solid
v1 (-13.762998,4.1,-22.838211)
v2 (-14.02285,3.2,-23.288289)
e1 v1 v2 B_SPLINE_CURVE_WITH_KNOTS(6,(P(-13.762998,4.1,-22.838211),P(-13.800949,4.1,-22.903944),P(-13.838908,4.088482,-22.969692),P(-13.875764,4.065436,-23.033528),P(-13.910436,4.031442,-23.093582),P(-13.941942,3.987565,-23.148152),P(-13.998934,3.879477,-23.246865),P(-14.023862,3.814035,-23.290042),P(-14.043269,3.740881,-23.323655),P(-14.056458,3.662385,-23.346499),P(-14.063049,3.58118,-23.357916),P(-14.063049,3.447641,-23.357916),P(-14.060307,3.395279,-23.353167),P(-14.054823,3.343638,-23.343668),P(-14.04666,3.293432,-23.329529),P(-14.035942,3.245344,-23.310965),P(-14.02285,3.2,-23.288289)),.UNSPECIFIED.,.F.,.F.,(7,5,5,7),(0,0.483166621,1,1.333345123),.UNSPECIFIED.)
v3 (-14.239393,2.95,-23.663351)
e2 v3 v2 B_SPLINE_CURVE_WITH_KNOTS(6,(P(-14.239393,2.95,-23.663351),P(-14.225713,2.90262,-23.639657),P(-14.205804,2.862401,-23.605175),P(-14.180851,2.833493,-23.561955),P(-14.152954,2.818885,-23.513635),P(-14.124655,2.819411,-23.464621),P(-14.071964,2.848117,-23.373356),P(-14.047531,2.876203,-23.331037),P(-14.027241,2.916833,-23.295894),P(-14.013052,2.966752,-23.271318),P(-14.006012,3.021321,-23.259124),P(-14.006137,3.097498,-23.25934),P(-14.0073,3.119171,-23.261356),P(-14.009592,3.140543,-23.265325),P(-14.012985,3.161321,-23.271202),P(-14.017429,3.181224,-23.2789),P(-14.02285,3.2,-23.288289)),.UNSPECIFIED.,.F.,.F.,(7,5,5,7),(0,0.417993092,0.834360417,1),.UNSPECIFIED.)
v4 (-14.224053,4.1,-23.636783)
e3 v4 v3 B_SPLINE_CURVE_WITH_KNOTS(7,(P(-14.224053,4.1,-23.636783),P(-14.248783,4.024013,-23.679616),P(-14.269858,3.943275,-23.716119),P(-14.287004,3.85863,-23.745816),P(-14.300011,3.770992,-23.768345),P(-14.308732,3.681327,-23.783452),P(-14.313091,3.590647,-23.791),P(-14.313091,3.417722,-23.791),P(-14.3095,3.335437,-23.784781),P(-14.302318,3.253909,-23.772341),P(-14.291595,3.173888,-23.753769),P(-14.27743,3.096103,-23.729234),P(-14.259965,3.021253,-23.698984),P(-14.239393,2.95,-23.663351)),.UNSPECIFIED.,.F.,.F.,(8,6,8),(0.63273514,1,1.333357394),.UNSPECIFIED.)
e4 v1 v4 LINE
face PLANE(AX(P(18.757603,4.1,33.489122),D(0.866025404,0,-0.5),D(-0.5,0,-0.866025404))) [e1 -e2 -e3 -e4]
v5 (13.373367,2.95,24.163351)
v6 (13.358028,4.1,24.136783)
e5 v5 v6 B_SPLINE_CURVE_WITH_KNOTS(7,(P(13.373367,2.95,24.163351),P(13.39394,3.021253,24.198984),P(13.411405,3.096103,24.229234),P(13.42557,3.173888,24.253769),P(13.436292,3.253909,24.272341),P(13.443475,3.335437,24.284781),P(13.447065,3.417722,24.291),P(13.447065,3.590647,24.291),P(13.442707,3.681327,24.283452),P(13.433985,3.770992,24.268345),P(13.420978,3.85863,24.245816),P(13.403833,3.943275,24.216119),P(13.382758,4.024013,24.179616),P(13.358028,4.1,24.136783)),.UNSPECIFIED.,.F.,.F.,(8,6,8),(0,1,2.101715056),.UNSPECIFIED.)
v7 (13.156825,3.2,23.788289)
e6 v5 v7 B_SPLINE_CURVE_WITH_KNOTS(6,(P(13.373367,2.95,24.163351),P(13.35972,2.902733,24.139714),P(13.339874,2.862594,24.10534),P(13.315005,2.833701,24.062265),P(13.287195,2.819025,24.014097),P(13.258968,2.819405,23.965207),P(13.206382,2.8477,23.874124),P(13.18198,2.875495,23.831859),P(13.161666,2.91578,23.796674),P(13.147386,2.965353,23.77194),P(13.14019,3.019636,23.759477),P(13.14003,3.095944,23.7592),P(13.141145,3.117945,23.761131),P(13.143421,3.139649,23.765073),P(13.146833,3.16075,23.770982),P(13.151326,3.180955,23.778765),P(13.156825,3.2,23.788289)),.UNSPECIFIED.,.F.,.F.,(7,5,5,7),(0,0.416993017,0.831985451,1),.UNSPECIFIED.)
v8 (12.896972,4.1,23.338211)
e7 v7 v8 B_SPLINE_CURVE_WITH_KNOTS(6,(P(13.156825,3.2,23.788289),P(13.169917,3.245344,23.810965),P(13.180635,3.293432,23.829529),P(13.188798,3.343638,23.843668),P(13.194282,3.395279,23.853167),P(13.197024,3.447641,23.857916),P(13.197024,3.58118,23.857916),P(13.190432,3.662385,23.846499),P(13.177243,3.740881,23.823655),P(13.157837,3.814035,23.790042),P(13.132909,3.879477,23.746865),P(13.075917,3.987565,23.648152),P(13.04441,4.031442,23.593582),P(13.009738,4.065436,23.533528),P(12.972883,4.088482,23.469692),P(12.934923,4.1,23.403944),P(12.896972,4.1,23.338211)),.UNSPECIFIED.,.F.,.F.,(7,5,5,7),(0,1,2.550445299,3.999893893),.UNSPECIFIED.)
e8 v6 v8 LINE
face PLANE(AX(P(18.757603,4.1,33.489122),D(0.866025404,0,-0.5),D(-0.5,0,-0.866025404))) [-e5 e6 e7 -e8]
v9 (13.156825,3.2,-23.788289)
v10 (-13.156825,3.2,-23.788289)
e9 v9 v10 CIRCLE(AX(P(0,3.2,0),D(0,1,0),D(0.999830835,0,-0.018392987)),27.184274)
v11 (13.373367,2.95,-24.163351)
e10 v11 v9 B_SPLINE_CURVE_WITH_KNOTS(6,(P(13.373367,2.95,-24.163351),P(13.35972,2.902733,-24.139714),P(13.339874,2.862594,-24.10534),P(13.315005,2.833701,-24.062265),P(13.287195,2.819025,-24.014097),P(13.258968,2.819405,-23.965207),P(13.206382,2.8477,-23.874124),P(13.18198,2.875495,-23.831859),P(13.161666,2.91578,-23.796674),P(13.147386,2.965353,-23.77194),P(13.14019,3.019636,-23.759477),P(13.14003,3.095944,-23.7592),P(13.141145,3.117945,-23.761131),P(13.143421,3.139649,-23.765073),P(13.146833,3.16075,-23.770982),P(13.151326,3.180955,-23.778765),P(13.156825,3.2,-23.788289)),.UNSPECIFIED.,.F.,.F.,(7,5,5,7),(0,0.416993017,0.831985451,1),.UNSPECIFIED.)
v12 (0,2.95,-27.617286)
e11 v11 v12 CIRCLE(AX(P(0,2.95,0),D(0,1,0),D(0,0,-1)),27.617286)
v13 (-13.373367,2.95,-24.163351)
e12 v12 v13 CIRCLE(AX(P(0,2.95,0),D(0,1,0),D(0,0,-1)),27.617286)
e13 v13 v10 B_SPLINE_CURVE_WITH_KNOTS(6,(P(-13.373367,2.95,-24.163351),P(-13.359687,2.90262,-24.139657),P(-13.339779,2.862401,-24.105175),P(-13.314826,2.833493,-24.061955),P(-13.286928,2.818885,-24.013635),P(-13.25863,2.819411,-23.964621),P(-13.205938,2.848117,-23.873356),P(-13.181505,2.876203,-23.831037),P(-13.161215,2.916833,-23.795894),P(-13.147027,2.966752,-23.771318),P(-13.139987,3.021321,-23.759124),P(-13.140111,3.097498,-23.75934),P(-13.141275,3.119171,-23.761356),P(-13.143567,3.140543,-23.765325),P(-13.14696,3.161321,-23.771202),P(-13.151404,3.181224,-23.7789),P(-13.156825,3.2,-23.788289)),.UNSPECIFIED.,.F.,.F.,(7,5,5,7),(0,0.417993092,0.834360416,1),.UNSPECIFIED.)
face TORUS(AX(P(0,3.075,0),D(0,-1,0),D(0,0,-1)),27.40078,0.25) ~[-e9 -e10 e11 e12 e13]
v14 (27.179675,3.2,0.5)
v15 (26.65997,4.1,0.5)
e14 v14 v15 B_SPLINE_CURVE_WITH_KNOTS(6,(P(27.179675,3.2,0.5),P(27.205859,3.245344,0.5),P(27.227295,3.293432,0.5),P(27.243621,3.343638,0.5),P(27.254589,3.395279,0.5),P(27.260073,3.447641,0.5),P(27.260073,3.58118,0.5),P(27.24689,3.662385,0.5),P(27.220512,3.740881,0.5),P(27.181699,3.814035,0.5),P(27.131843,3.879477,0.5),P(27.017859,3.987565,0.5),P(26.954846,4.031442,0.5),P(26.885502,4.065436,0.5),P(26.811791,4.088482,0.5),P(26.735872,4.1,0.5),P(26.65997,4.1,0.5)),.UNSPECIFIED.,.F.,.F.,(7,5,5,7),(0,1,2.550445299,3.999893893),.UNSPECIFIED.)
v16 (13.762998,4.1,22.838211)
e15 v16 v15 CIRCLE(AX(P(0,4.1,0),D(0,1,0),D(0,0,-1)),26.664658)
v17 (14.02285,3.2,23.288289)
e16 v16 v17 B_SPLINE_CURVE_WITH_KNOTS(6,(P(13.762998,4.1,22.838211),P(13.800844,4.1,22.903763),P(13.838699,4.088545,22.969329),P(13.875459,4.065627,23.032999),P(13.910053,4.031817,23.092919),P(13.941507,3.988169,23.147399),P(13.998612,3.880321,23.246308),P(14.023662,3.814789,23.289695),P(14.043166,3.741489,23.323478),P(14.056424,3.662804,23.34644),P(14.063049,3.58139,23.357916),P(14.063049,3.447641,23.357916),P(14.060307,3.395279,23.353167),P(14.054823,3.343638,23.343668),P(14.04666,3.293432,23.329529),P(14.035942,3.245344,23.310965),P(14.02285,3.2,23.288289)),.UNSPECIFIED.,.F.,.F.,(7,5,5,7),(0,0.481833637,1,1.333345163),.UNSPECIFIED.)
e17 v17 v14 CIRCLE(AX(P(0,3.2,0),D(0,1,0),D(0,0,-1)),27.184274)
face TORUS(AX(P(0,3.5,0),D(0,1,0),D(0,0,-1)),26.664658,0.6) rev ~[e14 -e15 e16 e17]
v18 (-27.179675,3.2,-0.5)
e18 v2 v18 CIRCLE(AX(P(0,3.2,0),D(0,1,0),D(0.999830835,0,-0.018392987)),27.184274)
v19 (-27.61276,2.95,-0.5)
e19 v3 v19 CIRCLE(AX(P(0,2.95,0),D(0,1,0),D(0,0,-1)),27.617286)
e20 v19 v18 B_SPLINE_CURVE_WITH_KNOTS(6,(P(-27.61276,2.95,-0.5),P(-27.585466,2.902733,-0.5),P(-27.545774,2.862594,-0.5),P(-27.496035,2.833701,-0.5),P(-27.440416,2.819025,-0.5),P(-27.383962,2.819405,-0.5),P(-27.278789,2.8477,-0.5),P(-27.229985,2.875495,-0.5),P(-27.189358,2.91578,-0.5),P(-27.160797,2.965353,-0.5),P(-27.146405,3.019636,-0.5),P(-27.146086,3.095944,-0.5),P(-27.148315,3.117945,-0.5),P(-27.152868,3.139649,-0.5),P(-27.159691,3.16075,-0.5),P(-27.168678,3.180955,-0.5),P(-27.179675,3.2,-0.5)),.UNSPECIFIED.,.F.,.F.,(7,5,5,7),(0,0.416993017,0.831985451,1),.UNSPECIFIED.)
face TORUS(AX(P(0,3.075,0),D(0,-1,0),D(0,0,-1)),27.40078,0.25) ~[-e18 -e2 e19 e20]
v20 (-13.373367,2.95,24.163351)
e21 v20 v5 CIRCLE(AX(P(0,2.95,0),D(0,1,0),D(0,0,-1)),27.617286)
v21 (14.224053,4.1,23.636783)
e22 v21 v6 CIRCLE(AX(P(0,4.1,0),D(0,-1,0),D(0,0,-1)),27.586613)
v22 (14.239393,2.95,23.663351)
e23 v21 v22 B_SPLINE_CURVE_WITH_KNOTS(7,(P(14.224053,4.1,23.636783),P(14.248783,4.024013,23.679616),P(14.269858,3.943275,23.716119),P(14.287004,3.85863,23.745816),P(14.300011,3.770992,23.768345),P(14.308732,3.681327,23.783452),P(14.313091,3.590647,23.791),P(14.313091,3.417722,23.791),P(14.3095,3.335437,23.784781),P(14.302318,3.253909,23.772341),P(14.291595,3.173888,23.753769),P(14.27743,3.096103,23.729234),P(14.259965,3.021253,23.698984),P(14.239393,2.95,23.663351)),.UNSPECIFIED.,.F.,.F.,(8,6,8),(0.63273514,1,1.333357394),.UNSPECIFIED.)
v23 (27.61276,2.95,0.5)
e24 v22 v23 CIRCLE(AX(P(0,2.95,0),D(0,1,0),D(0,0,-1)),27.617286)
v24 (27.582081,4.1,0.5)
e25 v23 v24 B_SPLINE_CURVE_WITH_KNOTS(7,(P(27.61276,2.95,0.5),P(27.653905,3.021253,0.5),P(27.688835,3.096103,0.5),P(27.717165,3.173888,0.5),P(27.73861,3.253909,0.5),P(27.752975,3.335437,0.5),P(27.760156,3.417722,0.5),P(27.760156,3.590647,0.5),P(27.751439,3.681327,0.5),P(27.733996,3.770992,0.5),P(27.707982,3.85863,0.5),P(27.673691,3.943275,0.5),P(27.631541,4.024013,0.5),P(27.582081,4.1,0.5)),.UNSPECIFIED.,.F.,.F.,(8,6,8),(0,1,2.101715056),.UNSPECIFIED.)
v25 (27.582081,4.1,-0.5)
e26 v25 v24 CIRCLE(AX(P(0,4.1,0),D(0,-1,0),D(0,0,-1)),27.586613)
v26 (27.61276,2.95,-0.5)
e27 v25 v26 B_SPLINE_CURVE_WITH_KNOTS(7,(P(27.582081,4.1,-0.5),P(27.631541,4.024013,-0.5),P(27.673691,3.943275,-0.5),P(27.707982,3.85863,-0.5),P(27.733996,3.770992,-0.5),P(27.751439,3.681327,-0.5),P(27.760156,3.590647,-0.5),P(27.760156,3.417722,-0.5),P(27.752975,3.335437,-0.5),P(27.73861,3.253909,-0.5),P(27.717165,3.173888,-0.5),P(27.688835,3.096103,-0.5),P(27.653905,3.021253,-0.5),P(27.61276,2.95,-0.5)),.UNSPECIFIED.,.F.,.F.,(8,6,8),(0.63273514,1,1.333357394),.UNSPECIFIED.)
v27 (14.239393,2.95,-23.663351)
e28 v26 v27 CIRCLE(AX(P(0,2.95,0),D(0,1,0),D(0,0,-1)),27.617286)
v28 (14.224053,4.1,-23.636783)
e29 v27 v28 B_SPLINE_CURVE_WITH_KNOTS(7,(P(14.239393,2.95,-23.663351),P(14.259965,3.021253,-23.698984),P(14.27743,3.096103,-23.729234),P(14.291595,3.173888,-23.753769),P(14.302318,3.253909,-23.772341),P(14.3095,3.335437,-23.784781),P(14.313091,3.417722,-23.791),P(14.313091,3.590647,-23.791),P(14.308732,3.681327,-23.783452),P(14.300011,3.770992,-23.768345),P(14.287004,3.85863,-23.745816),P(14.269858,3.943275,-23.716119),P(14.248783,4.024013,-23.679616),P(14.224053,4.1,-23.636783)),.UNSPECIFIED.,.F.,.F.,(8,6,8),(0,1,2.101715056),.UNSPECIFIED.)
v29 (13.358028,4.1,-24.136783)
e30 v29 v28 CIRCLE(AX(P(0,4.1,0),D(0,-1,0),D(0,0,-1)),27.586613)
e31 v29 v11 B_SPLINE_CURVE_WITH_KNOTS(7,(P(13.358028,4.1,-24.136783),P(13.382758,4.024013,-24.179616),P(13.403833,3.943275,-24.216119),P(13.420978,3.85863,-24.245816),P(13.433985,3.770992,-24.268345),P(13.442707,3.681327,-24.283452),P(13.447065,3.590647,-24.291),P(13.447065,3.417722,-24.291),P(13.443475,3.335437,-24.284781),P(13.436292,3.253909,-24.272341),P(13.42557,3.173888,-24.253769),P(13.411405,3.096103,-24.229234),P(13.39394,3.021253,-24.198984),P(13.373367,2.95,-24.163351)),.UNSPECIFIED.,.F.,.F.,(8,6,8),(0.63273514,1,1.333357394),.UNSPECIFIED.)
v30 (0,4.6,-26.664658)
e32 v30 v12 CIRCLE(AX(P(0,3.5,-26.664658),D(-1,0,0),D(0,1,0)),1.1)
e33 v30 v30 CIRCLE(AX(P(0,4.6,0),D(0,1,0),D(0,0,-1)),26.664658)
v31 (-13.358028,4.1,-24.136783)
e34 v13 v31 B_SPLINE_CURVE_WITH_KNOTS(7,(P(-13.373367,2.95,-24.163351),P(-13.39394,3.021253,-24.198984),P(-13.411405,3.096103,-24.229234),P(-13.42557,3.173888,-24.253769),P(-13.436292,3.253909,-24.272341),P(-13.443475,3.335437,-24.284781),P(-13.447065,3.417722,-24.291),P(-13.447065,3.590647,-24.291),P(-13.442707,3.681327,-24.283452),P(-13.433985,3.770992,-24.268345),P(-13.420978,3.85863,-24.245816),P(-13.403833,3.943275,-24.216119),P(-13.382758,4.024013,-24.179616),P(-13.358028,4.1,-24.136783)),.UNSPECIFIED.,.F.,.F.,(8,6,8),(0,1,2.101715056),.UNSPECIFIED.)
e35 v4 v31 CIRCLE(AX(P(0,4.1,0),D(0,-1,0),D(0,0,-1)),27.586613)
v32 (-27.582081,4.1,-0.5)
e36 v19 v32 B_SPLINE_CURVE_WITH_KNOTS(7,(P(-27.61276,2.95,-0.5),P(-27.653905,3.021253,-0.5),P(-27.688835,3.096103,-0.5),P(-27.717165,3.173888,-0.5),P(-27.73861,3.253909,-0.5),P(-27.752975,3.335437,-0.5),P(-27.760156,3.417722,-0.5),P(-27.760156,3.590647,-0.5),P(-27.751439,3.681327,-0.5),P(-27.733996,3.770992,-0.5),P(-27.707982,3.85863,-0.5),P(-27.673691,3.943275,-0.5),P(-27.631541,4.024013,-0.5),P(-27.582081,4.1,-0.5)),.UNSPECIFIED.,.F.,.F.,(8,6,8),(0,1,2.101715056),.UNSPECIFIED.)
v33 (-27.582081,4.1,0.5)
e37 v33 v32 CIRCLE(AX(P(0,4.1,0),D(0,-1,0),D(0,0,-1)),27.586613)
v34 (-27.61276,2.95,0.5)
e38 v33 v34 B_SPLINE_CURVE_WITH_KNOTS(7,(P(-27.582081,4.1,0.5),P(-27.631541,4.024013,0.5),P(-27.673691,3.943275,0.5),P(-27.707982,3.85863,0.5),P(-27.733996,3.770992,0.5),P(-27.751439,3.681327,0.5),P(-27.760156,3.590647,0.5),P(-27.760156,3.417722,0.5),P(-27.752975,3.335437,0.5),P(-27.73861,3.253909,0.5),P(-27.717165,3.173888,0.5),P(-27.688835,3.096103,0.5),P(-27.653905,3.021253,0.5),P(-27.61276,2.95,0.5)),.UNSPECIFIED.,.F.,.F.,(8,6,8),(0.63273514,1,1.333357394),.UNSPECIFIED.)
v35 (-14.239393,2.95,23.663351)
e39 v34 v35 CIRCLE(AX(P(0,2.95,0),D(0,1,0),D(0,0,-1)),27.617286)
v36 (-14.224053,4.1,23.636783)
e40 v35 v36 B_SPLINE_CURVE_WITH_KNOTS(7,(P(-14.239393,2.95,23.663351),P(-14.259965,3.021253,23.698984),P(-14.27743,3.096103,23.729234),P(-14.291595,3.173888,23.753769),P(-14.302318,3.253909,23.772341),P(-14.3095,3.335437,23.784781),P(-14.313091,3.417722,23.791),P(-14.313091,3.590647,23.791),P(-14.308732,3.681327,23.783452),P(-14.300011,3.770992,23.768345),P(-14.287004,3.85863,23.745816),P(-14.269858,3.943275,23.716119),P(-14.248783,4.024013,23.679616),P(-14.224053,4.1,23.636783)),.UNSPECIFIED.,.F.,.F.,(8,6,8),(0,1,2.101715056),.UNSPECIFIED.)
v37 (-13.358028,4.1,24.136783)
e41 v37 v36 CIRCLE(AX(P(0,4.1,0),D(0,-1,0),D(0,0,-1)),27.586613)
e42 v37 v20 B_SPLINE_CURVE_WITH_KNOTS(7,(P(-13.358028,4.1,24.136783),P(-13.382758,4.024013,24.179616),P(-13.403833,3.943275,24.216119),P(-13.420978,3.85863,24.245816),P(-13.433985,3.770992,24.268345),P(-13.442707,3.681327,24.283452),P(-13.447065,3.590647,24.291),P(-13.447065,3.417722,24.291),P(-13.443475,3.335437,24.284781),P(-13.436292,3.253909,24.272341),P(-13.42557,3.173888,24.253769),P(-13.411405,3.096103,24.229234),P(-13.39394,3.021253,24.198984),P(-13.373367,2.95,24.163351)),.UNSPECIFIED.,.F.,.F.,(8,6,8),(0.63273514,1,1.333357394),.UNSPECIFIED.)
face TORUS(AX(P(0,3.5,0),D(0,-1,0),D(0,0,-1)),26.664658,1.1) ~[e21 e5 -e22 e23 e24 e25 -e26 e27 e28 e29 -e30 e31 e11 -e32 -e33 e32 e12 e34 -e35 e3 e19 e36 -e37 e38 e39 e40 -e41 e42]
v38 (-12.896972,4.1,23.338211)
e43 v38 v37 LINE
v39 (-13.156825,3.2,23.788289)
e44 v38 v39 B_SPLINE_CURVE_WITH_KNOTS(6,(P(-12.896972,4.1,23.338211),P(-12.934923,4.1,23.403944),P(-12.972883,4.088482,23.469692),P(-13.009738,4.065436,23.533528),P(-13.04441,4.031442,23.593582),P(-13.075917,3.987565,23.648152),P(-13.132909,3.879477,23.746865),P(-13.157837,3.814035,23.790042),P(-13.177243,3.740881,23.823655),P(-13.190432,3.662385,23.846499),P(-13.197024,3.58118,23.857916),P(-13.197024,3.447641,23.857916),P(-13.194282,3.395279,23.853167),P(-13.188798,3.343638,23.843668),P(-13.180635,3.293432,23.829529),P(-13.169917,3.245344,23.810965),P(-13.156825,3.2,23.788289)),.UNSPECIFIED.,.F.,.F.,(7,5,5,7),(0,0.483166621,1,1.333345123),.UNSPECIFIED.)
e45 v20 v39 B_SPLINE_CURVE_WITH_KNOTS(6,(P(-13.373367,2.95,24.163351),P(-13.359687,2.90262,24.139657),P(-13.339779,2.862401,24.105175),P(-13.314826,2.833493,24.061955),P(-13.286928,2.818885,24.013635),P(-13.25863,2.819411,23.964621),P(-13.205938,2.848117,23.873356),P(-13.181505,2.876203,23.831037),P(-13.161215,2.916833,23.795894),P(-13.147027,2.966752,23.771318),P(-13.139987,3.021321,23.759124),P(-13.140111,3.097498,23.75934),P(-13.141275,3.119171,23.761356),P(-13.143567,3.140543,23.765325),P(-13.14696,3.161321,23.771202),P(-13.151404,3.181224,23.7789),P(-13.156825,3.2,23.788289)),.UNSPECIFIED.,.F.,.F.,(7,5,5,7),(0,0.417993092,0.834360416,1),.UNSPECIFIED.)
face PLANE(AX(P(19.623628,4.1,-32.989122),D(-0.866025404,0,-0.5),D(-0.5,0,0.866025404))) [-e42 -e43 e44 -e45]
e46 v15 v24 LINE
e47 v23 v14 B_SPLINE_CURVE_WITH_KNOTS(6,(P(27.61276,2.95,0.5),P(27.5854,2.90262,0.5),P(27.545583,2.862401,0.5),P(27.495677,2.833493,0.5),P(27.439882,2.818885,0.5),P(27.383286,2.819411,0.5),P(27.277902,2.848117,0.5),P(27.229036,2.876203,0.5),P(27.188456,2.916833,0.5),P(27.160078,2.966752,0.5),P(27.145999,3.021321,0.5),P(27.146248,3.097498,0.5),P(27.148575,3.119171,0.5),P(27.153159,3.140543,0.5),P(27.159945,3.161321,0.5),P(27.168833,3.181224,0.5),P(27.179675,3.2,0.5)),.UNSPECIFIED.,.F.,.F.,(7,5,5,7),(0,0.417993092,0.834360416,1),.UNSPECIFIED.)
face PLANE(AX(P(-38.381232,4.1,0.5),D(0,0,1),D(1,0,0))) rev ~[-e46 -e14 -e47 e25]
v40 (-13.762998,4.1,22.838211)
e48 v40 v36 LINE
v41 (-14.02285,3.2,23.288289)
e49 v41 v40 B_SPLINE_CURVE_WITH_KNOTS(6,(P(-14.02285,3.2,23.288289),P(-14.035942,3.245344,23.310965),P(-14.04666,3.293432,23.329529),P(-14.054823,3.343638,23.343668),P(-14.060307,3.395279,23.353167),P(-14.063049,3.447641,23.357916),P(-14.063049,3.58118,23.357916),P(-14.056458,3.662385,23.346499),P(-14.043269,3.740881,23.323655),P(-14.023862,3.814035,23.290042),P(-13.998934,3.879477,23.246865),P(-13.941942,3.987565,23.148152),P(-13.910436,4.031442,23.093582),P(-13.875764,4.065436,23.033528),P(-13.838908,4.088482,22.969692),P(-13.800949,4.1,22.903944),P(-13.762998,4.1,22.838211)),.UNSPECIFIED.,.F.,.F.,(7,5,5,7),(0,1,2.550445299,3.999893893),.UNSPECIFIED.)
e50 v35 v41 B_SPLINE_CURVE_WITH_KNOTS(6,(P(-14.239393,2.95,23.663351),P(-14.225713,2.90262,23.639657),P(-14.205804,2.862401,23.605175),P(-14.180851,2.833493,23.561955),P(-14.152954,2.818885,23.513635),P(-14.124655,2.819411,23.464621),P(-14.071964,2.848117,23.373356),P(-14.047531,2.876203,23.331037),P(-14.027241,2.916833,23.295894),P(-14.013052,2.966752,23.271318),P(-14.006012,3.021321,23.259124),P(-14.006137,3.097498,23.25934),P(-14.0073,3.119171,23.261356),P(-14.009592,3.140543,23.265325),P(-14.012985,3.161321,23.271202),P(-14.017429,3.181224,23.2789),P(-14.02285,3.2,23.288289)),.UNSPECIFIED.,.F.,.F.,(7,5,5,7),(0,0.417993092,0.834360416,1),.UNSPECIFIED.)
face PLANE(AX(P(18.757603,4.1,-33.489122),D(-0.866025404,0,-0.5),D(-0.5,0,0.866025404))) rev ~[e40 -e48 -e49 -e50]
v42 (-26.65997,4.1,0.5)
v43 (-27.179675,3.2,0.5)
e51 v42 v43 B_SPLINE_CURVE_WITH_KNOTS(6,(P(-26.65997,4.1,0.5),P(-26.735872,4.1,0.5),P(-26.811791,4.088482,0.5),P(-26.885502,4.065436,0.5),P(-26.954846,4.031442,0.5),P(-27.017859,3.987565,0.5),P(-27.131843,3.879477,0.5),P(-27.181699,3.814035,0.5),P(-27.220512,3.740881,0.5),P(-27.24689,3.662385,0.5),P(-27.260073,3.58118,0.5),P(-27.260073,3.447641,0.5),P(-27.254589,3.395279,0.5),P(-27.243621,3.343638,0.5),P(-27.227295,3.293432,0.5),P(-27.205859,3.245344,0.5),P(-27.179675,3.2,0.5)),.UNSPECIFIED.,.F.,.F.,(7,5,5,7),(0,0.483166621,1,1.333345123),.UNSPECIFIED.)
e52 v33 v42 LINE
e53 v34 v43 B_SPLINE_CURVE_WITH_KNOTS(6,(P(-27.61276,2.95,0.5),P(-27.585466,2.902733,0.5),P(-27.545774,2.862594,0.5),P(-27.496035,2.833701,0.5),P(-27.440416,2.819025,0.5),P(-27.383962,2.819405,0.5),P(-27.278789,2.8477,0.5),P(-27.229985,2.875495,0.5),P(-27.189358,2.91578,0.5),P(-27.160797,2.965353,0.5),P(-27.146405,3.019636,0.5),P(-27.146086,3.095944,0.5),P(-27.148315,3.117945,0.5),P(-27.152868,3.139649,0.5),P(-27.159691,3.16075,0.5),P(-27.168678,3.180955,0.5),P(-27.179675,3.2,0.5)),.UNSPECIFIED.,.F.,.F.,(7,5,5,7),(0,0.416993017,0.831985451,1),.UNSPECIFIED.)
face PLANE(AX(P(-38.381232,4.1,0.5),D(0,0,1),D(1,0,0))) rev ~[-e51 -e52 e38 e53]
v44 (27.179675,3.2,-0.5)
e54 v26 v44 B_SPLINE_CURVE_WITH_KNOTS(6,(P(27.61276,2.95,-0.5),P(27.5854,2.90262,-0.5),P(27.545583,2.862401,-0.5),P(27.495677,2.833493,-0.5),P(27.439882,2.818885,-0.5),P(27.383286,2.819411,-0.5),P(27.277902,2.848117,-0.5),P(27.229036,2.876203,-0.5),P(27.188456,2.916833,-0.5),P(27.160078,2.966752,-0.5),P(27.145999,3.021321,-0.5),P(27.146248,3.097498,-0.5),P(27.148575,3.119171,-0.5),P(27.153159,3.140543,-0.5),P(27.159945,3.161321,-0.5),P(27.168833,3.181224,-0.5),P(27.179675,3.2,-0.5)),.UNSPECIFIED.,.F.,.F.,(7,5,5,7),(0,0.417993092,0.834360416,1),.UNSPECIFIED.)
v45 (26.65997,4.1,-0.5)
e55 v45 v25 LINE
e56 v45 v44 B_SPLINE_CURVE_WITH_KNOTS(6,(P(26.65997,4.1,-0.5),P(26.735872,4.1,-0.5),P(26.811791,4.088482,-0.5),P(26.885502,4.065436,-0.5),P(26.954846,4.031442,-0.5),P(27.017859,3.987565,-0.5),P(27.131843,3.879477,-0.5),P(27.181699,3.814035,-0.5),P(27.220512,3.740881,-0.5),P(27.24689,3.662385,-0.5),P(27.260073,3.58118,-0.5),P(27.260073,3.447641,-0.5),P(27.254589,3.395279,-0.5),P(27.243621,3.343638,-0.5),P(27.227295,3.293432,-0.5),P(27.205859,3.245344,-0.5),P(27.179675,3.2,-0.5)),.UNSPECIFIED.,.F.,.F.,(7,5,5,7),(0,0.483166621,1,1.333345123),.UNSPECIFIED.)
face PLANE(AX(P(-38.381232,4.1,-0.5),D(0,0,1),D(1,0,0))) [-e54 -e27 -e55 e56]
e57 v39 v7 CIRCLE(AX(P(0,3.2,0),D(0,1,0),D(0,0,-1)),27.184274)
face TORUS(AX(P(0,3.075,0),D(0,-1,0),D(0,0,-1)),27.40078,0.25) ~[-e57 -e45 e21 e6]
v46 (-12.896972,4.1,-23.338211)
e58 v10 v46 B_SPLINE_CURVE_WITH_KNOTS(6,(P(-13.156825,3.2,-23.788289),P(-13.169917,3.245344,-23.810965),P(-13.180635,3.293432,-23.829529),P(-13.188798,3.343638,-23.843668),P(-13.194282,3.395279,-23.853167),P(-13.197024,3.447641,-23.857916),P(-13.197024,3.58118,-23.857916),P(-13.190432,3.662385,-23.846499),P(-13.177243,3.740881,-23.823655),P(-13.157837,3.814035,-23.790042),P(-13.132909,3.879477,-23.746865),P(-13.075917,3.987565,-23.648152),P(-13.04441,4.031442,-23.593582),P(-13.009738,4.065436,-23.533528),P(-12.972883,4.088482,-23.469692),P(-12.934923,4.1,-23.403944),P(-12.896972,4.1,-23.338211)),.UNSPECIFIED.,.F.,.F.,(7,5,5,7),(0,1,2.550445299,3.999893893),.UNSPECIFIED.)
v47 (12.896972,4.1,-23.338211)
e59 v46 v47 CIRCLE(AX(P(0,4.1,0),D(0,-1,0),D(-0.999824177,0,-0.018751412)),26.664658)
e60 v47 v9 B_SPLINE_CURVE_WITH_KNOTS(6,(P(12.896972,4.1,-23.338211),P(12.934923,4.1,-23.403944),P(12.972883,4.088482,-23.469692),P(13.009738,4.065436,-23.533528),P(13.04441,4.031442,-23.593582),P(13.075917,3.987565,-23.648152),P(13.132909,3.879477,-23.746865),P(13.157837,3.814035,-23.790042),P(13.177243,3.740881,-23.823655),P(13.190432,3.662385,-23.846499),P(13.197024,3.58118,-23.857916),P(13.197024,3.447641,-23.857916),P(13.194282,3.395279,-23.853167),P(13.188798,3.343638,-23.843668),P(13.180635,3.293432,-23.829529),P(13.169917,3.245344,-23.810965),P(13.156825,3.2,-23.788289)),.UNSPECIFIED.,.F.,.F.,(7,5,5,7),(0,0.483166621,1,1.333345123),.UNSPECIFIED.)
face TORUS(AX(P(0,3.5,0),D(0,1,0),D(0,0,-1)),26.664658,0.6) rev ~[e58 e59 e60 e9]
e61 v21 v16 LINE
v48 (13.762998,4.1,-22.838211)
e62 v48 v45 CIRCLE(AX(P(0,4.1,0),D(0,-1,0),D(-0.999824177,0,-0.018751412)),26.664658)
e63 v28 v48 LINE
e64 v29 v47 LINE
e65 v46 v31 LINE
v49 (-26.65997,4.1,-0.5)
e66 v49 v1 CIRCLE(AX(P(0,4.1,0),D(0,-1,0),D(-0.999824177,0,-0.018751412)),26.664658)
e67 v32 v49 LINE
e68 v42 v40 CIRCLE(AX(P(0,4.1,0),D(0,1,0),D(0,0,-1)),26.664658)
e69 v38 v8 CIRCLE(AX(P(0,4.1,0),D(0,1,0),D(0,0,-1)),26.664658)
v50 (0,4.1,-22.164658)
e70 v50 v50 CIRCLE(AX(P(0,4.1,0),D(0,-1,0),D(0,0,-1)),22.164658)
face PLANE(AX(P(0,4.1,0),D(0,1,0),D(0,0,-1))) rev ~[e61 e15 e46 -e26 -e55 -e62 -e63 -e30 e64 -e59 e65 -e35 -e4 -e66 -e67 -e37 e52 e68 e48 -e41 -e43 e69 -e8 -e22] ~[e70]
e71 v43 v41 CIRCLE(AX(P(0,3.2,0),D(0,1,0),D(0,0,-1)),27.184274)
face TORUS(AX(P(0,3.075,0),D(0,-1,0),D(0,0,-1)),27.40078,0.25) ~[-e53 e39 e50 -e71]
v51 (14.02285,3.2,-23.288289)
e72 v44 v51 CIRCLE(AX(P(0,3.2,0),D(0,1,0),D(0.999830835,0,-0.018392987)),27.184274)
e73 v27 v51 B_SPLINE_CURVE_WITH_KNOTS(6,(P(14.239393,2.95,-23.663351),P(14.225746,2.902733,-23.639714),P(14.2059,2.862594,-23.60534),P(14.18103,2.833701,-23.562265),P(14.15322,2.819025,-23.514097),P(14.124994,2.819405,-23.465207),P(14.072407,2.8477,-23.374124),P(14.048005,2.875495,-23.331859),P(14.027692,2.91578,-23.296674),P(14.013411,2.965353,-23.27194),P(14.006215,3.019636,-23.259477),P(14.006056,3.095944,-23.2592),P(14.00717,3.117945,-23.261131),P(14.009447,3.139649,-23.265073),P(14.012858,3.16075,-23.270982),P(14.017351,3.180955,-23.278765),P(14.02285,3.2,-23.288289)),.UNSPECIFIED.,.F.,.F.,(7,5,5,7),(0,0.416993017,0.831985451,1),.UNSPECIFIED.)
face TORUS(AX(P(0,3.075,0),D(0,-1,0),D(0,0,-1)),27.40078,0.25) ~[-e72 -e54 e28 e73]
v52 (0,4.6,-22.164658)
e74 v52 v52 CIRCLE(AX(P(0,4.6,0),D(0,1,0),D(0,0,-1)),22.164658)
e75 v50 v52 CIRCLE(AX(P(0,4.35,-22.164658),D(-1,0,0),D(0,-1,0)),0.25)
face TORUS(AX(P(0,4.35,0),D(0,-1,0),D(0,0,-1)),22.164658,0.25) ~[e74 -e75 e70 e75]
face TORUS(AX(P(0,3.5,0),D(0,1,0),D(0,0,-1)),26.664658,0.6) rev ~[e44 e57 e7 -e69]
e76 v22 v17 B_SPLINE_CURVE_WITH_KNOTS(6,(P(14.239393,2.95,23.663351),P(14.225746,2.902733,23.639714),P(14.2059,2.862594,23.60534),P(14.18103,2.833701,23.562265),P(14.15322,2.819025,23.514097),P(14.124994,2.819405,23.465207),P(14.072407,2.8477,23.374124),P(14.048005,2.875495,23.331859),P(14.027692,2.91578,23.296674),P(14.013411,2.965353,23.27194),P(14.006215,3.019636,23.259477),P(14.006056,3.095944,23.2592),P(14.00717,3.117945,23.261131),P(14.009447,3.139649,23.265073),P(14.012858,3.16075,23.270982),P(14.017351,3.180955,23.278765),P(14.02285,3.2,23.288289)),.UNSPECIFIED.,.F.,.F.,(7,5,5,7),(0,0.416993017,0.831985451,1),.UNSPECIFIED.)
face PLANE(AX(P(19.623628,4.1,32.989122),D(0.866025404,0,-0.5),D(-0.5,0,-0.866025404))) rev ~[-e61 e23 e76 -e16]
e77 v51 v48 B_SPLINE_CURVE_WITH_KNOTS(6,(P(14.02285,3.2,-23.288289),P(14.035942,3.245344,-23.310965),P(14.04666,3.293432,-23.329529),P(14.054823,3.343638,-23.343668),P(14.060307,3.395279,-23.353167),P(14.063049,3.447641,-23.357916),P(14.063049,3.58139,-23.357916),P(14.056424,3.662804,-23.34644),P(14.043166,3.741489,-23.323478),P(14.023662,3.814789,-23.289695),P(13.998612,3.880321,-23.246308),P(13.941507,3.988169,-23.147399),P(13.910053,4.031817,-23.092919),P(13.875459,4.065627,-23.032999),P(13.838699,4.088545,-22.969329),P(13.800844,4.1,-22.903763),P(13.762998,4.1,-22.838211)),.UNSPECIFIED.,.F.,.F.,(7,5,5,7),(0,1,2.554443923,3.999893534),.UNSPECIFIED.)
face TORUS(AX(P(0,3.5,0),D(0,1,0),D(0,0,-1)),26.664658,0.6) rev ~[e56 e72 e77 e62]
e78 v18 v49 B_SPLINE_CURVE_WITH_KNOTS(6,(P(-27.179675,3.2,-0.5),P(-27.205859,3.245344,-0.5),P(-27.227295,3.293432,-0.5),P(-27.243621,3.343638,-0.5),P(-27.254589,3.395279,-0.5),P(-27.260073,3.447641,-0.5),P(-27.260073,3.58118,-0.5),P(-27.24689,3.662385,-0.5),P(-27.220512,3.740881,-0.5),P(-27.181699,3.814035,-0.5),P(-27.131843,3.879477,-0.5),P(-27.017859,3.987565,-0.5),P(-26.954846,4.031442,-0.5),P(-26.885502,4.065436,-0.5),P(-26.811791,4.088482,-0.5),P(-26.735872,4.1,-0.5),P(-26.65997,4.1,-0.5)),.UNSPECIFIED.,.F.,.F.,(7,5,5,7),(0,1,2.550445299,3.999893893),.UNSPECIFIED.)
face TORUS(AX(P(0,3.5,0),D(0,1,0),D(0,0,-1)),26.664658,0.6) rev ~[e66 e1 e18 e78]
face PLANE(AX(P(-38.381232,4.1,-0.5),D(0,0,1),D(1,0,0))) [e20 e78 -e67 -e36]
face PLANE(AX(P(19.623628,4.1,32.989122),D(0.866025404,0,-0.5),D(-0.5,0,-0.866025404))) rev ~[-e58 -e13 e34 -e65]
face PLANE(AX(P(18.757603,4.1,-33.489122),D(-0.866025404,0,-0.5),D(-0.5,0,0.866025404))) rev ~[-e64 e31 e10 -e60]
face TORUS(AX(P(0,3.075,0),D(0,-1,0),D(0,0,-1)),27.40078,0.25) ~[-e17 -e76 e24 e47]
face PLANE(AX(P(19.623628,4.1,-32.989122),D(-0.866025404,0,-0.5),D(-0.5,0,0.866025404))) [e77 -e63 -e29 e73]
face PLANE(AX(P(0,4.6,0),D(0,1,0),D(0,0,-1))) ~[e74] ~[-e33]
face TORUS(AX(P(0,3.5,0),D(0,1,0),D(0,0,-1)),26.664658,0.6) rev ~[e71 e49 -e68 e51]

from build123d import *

# Parameters (mm, degrees)
SKETCH2_W          = 76.762463064
SKETCH2_H          = 1
CUT_EXTRUDE1_DEPTH = 11.684
CIRPATTERN1_COUNT  = 3


with BuildPart() as part:
    # Sketch1 → Revolve1 (revolve)
    with BuildSketch(Plane.XY, mode=Mode.PRIVATE) as revolve1_sk:
        with BuildLine():
            Line((-22.164658343, 4.6), (-26.664658343, 4.6))
            ThreePointArc((-26.664658343, 4.6), (-27.617286287, 4.05), (-27.617286287, 2.95))
            ThreePointArc((-27.617286287, 2.95), (-27.275779936, 2.858493649), (-27.184273585, 3.2))
            ThreePointArc((-27.184273585, 3.2), (-27.184273585, 3.8), (-26.664658343, 4.1))
            Line((-26.664658343, 4.1), (-22.164658343, 4.1))
            ThreePointArc((-22.164658343, 4.1), (-21.914658343, 4.35), (-22.164658343, 4.6))
        make_face()
    revolve(revolve1_sk.sketch.rotate(Axis((0, 0, 0), (0, 1, 0)), 270), axis=Axis((0, 0, 0), (0, 1, 0)))

    # Sketch2 → Cut-Extrude1 (cut)
    with BuildSketch(Plane.XZ.offset(-4.1)):
        Rectangle(SKETCH2_W, SKETCH2_H)
    cut_extrude1 = extrude(amount=CUT_EXTRUDE1_DEPTH, mode=Mode.SUBTRACT)

    # CirPattern1: Cut-Extrude1 ×3 about axis
    cirpattern1_axis = Axis((0, 0, 0), (0, 1, 0))
    for i in range(1, CIRPATTERN1_COUNT):
        add(cut_extrude1.rotate(cirpattern1_axis, i * 360 / CIRPATTERN1_COUNT), mode=Mode.SUBTRACT)


solid = part.part
